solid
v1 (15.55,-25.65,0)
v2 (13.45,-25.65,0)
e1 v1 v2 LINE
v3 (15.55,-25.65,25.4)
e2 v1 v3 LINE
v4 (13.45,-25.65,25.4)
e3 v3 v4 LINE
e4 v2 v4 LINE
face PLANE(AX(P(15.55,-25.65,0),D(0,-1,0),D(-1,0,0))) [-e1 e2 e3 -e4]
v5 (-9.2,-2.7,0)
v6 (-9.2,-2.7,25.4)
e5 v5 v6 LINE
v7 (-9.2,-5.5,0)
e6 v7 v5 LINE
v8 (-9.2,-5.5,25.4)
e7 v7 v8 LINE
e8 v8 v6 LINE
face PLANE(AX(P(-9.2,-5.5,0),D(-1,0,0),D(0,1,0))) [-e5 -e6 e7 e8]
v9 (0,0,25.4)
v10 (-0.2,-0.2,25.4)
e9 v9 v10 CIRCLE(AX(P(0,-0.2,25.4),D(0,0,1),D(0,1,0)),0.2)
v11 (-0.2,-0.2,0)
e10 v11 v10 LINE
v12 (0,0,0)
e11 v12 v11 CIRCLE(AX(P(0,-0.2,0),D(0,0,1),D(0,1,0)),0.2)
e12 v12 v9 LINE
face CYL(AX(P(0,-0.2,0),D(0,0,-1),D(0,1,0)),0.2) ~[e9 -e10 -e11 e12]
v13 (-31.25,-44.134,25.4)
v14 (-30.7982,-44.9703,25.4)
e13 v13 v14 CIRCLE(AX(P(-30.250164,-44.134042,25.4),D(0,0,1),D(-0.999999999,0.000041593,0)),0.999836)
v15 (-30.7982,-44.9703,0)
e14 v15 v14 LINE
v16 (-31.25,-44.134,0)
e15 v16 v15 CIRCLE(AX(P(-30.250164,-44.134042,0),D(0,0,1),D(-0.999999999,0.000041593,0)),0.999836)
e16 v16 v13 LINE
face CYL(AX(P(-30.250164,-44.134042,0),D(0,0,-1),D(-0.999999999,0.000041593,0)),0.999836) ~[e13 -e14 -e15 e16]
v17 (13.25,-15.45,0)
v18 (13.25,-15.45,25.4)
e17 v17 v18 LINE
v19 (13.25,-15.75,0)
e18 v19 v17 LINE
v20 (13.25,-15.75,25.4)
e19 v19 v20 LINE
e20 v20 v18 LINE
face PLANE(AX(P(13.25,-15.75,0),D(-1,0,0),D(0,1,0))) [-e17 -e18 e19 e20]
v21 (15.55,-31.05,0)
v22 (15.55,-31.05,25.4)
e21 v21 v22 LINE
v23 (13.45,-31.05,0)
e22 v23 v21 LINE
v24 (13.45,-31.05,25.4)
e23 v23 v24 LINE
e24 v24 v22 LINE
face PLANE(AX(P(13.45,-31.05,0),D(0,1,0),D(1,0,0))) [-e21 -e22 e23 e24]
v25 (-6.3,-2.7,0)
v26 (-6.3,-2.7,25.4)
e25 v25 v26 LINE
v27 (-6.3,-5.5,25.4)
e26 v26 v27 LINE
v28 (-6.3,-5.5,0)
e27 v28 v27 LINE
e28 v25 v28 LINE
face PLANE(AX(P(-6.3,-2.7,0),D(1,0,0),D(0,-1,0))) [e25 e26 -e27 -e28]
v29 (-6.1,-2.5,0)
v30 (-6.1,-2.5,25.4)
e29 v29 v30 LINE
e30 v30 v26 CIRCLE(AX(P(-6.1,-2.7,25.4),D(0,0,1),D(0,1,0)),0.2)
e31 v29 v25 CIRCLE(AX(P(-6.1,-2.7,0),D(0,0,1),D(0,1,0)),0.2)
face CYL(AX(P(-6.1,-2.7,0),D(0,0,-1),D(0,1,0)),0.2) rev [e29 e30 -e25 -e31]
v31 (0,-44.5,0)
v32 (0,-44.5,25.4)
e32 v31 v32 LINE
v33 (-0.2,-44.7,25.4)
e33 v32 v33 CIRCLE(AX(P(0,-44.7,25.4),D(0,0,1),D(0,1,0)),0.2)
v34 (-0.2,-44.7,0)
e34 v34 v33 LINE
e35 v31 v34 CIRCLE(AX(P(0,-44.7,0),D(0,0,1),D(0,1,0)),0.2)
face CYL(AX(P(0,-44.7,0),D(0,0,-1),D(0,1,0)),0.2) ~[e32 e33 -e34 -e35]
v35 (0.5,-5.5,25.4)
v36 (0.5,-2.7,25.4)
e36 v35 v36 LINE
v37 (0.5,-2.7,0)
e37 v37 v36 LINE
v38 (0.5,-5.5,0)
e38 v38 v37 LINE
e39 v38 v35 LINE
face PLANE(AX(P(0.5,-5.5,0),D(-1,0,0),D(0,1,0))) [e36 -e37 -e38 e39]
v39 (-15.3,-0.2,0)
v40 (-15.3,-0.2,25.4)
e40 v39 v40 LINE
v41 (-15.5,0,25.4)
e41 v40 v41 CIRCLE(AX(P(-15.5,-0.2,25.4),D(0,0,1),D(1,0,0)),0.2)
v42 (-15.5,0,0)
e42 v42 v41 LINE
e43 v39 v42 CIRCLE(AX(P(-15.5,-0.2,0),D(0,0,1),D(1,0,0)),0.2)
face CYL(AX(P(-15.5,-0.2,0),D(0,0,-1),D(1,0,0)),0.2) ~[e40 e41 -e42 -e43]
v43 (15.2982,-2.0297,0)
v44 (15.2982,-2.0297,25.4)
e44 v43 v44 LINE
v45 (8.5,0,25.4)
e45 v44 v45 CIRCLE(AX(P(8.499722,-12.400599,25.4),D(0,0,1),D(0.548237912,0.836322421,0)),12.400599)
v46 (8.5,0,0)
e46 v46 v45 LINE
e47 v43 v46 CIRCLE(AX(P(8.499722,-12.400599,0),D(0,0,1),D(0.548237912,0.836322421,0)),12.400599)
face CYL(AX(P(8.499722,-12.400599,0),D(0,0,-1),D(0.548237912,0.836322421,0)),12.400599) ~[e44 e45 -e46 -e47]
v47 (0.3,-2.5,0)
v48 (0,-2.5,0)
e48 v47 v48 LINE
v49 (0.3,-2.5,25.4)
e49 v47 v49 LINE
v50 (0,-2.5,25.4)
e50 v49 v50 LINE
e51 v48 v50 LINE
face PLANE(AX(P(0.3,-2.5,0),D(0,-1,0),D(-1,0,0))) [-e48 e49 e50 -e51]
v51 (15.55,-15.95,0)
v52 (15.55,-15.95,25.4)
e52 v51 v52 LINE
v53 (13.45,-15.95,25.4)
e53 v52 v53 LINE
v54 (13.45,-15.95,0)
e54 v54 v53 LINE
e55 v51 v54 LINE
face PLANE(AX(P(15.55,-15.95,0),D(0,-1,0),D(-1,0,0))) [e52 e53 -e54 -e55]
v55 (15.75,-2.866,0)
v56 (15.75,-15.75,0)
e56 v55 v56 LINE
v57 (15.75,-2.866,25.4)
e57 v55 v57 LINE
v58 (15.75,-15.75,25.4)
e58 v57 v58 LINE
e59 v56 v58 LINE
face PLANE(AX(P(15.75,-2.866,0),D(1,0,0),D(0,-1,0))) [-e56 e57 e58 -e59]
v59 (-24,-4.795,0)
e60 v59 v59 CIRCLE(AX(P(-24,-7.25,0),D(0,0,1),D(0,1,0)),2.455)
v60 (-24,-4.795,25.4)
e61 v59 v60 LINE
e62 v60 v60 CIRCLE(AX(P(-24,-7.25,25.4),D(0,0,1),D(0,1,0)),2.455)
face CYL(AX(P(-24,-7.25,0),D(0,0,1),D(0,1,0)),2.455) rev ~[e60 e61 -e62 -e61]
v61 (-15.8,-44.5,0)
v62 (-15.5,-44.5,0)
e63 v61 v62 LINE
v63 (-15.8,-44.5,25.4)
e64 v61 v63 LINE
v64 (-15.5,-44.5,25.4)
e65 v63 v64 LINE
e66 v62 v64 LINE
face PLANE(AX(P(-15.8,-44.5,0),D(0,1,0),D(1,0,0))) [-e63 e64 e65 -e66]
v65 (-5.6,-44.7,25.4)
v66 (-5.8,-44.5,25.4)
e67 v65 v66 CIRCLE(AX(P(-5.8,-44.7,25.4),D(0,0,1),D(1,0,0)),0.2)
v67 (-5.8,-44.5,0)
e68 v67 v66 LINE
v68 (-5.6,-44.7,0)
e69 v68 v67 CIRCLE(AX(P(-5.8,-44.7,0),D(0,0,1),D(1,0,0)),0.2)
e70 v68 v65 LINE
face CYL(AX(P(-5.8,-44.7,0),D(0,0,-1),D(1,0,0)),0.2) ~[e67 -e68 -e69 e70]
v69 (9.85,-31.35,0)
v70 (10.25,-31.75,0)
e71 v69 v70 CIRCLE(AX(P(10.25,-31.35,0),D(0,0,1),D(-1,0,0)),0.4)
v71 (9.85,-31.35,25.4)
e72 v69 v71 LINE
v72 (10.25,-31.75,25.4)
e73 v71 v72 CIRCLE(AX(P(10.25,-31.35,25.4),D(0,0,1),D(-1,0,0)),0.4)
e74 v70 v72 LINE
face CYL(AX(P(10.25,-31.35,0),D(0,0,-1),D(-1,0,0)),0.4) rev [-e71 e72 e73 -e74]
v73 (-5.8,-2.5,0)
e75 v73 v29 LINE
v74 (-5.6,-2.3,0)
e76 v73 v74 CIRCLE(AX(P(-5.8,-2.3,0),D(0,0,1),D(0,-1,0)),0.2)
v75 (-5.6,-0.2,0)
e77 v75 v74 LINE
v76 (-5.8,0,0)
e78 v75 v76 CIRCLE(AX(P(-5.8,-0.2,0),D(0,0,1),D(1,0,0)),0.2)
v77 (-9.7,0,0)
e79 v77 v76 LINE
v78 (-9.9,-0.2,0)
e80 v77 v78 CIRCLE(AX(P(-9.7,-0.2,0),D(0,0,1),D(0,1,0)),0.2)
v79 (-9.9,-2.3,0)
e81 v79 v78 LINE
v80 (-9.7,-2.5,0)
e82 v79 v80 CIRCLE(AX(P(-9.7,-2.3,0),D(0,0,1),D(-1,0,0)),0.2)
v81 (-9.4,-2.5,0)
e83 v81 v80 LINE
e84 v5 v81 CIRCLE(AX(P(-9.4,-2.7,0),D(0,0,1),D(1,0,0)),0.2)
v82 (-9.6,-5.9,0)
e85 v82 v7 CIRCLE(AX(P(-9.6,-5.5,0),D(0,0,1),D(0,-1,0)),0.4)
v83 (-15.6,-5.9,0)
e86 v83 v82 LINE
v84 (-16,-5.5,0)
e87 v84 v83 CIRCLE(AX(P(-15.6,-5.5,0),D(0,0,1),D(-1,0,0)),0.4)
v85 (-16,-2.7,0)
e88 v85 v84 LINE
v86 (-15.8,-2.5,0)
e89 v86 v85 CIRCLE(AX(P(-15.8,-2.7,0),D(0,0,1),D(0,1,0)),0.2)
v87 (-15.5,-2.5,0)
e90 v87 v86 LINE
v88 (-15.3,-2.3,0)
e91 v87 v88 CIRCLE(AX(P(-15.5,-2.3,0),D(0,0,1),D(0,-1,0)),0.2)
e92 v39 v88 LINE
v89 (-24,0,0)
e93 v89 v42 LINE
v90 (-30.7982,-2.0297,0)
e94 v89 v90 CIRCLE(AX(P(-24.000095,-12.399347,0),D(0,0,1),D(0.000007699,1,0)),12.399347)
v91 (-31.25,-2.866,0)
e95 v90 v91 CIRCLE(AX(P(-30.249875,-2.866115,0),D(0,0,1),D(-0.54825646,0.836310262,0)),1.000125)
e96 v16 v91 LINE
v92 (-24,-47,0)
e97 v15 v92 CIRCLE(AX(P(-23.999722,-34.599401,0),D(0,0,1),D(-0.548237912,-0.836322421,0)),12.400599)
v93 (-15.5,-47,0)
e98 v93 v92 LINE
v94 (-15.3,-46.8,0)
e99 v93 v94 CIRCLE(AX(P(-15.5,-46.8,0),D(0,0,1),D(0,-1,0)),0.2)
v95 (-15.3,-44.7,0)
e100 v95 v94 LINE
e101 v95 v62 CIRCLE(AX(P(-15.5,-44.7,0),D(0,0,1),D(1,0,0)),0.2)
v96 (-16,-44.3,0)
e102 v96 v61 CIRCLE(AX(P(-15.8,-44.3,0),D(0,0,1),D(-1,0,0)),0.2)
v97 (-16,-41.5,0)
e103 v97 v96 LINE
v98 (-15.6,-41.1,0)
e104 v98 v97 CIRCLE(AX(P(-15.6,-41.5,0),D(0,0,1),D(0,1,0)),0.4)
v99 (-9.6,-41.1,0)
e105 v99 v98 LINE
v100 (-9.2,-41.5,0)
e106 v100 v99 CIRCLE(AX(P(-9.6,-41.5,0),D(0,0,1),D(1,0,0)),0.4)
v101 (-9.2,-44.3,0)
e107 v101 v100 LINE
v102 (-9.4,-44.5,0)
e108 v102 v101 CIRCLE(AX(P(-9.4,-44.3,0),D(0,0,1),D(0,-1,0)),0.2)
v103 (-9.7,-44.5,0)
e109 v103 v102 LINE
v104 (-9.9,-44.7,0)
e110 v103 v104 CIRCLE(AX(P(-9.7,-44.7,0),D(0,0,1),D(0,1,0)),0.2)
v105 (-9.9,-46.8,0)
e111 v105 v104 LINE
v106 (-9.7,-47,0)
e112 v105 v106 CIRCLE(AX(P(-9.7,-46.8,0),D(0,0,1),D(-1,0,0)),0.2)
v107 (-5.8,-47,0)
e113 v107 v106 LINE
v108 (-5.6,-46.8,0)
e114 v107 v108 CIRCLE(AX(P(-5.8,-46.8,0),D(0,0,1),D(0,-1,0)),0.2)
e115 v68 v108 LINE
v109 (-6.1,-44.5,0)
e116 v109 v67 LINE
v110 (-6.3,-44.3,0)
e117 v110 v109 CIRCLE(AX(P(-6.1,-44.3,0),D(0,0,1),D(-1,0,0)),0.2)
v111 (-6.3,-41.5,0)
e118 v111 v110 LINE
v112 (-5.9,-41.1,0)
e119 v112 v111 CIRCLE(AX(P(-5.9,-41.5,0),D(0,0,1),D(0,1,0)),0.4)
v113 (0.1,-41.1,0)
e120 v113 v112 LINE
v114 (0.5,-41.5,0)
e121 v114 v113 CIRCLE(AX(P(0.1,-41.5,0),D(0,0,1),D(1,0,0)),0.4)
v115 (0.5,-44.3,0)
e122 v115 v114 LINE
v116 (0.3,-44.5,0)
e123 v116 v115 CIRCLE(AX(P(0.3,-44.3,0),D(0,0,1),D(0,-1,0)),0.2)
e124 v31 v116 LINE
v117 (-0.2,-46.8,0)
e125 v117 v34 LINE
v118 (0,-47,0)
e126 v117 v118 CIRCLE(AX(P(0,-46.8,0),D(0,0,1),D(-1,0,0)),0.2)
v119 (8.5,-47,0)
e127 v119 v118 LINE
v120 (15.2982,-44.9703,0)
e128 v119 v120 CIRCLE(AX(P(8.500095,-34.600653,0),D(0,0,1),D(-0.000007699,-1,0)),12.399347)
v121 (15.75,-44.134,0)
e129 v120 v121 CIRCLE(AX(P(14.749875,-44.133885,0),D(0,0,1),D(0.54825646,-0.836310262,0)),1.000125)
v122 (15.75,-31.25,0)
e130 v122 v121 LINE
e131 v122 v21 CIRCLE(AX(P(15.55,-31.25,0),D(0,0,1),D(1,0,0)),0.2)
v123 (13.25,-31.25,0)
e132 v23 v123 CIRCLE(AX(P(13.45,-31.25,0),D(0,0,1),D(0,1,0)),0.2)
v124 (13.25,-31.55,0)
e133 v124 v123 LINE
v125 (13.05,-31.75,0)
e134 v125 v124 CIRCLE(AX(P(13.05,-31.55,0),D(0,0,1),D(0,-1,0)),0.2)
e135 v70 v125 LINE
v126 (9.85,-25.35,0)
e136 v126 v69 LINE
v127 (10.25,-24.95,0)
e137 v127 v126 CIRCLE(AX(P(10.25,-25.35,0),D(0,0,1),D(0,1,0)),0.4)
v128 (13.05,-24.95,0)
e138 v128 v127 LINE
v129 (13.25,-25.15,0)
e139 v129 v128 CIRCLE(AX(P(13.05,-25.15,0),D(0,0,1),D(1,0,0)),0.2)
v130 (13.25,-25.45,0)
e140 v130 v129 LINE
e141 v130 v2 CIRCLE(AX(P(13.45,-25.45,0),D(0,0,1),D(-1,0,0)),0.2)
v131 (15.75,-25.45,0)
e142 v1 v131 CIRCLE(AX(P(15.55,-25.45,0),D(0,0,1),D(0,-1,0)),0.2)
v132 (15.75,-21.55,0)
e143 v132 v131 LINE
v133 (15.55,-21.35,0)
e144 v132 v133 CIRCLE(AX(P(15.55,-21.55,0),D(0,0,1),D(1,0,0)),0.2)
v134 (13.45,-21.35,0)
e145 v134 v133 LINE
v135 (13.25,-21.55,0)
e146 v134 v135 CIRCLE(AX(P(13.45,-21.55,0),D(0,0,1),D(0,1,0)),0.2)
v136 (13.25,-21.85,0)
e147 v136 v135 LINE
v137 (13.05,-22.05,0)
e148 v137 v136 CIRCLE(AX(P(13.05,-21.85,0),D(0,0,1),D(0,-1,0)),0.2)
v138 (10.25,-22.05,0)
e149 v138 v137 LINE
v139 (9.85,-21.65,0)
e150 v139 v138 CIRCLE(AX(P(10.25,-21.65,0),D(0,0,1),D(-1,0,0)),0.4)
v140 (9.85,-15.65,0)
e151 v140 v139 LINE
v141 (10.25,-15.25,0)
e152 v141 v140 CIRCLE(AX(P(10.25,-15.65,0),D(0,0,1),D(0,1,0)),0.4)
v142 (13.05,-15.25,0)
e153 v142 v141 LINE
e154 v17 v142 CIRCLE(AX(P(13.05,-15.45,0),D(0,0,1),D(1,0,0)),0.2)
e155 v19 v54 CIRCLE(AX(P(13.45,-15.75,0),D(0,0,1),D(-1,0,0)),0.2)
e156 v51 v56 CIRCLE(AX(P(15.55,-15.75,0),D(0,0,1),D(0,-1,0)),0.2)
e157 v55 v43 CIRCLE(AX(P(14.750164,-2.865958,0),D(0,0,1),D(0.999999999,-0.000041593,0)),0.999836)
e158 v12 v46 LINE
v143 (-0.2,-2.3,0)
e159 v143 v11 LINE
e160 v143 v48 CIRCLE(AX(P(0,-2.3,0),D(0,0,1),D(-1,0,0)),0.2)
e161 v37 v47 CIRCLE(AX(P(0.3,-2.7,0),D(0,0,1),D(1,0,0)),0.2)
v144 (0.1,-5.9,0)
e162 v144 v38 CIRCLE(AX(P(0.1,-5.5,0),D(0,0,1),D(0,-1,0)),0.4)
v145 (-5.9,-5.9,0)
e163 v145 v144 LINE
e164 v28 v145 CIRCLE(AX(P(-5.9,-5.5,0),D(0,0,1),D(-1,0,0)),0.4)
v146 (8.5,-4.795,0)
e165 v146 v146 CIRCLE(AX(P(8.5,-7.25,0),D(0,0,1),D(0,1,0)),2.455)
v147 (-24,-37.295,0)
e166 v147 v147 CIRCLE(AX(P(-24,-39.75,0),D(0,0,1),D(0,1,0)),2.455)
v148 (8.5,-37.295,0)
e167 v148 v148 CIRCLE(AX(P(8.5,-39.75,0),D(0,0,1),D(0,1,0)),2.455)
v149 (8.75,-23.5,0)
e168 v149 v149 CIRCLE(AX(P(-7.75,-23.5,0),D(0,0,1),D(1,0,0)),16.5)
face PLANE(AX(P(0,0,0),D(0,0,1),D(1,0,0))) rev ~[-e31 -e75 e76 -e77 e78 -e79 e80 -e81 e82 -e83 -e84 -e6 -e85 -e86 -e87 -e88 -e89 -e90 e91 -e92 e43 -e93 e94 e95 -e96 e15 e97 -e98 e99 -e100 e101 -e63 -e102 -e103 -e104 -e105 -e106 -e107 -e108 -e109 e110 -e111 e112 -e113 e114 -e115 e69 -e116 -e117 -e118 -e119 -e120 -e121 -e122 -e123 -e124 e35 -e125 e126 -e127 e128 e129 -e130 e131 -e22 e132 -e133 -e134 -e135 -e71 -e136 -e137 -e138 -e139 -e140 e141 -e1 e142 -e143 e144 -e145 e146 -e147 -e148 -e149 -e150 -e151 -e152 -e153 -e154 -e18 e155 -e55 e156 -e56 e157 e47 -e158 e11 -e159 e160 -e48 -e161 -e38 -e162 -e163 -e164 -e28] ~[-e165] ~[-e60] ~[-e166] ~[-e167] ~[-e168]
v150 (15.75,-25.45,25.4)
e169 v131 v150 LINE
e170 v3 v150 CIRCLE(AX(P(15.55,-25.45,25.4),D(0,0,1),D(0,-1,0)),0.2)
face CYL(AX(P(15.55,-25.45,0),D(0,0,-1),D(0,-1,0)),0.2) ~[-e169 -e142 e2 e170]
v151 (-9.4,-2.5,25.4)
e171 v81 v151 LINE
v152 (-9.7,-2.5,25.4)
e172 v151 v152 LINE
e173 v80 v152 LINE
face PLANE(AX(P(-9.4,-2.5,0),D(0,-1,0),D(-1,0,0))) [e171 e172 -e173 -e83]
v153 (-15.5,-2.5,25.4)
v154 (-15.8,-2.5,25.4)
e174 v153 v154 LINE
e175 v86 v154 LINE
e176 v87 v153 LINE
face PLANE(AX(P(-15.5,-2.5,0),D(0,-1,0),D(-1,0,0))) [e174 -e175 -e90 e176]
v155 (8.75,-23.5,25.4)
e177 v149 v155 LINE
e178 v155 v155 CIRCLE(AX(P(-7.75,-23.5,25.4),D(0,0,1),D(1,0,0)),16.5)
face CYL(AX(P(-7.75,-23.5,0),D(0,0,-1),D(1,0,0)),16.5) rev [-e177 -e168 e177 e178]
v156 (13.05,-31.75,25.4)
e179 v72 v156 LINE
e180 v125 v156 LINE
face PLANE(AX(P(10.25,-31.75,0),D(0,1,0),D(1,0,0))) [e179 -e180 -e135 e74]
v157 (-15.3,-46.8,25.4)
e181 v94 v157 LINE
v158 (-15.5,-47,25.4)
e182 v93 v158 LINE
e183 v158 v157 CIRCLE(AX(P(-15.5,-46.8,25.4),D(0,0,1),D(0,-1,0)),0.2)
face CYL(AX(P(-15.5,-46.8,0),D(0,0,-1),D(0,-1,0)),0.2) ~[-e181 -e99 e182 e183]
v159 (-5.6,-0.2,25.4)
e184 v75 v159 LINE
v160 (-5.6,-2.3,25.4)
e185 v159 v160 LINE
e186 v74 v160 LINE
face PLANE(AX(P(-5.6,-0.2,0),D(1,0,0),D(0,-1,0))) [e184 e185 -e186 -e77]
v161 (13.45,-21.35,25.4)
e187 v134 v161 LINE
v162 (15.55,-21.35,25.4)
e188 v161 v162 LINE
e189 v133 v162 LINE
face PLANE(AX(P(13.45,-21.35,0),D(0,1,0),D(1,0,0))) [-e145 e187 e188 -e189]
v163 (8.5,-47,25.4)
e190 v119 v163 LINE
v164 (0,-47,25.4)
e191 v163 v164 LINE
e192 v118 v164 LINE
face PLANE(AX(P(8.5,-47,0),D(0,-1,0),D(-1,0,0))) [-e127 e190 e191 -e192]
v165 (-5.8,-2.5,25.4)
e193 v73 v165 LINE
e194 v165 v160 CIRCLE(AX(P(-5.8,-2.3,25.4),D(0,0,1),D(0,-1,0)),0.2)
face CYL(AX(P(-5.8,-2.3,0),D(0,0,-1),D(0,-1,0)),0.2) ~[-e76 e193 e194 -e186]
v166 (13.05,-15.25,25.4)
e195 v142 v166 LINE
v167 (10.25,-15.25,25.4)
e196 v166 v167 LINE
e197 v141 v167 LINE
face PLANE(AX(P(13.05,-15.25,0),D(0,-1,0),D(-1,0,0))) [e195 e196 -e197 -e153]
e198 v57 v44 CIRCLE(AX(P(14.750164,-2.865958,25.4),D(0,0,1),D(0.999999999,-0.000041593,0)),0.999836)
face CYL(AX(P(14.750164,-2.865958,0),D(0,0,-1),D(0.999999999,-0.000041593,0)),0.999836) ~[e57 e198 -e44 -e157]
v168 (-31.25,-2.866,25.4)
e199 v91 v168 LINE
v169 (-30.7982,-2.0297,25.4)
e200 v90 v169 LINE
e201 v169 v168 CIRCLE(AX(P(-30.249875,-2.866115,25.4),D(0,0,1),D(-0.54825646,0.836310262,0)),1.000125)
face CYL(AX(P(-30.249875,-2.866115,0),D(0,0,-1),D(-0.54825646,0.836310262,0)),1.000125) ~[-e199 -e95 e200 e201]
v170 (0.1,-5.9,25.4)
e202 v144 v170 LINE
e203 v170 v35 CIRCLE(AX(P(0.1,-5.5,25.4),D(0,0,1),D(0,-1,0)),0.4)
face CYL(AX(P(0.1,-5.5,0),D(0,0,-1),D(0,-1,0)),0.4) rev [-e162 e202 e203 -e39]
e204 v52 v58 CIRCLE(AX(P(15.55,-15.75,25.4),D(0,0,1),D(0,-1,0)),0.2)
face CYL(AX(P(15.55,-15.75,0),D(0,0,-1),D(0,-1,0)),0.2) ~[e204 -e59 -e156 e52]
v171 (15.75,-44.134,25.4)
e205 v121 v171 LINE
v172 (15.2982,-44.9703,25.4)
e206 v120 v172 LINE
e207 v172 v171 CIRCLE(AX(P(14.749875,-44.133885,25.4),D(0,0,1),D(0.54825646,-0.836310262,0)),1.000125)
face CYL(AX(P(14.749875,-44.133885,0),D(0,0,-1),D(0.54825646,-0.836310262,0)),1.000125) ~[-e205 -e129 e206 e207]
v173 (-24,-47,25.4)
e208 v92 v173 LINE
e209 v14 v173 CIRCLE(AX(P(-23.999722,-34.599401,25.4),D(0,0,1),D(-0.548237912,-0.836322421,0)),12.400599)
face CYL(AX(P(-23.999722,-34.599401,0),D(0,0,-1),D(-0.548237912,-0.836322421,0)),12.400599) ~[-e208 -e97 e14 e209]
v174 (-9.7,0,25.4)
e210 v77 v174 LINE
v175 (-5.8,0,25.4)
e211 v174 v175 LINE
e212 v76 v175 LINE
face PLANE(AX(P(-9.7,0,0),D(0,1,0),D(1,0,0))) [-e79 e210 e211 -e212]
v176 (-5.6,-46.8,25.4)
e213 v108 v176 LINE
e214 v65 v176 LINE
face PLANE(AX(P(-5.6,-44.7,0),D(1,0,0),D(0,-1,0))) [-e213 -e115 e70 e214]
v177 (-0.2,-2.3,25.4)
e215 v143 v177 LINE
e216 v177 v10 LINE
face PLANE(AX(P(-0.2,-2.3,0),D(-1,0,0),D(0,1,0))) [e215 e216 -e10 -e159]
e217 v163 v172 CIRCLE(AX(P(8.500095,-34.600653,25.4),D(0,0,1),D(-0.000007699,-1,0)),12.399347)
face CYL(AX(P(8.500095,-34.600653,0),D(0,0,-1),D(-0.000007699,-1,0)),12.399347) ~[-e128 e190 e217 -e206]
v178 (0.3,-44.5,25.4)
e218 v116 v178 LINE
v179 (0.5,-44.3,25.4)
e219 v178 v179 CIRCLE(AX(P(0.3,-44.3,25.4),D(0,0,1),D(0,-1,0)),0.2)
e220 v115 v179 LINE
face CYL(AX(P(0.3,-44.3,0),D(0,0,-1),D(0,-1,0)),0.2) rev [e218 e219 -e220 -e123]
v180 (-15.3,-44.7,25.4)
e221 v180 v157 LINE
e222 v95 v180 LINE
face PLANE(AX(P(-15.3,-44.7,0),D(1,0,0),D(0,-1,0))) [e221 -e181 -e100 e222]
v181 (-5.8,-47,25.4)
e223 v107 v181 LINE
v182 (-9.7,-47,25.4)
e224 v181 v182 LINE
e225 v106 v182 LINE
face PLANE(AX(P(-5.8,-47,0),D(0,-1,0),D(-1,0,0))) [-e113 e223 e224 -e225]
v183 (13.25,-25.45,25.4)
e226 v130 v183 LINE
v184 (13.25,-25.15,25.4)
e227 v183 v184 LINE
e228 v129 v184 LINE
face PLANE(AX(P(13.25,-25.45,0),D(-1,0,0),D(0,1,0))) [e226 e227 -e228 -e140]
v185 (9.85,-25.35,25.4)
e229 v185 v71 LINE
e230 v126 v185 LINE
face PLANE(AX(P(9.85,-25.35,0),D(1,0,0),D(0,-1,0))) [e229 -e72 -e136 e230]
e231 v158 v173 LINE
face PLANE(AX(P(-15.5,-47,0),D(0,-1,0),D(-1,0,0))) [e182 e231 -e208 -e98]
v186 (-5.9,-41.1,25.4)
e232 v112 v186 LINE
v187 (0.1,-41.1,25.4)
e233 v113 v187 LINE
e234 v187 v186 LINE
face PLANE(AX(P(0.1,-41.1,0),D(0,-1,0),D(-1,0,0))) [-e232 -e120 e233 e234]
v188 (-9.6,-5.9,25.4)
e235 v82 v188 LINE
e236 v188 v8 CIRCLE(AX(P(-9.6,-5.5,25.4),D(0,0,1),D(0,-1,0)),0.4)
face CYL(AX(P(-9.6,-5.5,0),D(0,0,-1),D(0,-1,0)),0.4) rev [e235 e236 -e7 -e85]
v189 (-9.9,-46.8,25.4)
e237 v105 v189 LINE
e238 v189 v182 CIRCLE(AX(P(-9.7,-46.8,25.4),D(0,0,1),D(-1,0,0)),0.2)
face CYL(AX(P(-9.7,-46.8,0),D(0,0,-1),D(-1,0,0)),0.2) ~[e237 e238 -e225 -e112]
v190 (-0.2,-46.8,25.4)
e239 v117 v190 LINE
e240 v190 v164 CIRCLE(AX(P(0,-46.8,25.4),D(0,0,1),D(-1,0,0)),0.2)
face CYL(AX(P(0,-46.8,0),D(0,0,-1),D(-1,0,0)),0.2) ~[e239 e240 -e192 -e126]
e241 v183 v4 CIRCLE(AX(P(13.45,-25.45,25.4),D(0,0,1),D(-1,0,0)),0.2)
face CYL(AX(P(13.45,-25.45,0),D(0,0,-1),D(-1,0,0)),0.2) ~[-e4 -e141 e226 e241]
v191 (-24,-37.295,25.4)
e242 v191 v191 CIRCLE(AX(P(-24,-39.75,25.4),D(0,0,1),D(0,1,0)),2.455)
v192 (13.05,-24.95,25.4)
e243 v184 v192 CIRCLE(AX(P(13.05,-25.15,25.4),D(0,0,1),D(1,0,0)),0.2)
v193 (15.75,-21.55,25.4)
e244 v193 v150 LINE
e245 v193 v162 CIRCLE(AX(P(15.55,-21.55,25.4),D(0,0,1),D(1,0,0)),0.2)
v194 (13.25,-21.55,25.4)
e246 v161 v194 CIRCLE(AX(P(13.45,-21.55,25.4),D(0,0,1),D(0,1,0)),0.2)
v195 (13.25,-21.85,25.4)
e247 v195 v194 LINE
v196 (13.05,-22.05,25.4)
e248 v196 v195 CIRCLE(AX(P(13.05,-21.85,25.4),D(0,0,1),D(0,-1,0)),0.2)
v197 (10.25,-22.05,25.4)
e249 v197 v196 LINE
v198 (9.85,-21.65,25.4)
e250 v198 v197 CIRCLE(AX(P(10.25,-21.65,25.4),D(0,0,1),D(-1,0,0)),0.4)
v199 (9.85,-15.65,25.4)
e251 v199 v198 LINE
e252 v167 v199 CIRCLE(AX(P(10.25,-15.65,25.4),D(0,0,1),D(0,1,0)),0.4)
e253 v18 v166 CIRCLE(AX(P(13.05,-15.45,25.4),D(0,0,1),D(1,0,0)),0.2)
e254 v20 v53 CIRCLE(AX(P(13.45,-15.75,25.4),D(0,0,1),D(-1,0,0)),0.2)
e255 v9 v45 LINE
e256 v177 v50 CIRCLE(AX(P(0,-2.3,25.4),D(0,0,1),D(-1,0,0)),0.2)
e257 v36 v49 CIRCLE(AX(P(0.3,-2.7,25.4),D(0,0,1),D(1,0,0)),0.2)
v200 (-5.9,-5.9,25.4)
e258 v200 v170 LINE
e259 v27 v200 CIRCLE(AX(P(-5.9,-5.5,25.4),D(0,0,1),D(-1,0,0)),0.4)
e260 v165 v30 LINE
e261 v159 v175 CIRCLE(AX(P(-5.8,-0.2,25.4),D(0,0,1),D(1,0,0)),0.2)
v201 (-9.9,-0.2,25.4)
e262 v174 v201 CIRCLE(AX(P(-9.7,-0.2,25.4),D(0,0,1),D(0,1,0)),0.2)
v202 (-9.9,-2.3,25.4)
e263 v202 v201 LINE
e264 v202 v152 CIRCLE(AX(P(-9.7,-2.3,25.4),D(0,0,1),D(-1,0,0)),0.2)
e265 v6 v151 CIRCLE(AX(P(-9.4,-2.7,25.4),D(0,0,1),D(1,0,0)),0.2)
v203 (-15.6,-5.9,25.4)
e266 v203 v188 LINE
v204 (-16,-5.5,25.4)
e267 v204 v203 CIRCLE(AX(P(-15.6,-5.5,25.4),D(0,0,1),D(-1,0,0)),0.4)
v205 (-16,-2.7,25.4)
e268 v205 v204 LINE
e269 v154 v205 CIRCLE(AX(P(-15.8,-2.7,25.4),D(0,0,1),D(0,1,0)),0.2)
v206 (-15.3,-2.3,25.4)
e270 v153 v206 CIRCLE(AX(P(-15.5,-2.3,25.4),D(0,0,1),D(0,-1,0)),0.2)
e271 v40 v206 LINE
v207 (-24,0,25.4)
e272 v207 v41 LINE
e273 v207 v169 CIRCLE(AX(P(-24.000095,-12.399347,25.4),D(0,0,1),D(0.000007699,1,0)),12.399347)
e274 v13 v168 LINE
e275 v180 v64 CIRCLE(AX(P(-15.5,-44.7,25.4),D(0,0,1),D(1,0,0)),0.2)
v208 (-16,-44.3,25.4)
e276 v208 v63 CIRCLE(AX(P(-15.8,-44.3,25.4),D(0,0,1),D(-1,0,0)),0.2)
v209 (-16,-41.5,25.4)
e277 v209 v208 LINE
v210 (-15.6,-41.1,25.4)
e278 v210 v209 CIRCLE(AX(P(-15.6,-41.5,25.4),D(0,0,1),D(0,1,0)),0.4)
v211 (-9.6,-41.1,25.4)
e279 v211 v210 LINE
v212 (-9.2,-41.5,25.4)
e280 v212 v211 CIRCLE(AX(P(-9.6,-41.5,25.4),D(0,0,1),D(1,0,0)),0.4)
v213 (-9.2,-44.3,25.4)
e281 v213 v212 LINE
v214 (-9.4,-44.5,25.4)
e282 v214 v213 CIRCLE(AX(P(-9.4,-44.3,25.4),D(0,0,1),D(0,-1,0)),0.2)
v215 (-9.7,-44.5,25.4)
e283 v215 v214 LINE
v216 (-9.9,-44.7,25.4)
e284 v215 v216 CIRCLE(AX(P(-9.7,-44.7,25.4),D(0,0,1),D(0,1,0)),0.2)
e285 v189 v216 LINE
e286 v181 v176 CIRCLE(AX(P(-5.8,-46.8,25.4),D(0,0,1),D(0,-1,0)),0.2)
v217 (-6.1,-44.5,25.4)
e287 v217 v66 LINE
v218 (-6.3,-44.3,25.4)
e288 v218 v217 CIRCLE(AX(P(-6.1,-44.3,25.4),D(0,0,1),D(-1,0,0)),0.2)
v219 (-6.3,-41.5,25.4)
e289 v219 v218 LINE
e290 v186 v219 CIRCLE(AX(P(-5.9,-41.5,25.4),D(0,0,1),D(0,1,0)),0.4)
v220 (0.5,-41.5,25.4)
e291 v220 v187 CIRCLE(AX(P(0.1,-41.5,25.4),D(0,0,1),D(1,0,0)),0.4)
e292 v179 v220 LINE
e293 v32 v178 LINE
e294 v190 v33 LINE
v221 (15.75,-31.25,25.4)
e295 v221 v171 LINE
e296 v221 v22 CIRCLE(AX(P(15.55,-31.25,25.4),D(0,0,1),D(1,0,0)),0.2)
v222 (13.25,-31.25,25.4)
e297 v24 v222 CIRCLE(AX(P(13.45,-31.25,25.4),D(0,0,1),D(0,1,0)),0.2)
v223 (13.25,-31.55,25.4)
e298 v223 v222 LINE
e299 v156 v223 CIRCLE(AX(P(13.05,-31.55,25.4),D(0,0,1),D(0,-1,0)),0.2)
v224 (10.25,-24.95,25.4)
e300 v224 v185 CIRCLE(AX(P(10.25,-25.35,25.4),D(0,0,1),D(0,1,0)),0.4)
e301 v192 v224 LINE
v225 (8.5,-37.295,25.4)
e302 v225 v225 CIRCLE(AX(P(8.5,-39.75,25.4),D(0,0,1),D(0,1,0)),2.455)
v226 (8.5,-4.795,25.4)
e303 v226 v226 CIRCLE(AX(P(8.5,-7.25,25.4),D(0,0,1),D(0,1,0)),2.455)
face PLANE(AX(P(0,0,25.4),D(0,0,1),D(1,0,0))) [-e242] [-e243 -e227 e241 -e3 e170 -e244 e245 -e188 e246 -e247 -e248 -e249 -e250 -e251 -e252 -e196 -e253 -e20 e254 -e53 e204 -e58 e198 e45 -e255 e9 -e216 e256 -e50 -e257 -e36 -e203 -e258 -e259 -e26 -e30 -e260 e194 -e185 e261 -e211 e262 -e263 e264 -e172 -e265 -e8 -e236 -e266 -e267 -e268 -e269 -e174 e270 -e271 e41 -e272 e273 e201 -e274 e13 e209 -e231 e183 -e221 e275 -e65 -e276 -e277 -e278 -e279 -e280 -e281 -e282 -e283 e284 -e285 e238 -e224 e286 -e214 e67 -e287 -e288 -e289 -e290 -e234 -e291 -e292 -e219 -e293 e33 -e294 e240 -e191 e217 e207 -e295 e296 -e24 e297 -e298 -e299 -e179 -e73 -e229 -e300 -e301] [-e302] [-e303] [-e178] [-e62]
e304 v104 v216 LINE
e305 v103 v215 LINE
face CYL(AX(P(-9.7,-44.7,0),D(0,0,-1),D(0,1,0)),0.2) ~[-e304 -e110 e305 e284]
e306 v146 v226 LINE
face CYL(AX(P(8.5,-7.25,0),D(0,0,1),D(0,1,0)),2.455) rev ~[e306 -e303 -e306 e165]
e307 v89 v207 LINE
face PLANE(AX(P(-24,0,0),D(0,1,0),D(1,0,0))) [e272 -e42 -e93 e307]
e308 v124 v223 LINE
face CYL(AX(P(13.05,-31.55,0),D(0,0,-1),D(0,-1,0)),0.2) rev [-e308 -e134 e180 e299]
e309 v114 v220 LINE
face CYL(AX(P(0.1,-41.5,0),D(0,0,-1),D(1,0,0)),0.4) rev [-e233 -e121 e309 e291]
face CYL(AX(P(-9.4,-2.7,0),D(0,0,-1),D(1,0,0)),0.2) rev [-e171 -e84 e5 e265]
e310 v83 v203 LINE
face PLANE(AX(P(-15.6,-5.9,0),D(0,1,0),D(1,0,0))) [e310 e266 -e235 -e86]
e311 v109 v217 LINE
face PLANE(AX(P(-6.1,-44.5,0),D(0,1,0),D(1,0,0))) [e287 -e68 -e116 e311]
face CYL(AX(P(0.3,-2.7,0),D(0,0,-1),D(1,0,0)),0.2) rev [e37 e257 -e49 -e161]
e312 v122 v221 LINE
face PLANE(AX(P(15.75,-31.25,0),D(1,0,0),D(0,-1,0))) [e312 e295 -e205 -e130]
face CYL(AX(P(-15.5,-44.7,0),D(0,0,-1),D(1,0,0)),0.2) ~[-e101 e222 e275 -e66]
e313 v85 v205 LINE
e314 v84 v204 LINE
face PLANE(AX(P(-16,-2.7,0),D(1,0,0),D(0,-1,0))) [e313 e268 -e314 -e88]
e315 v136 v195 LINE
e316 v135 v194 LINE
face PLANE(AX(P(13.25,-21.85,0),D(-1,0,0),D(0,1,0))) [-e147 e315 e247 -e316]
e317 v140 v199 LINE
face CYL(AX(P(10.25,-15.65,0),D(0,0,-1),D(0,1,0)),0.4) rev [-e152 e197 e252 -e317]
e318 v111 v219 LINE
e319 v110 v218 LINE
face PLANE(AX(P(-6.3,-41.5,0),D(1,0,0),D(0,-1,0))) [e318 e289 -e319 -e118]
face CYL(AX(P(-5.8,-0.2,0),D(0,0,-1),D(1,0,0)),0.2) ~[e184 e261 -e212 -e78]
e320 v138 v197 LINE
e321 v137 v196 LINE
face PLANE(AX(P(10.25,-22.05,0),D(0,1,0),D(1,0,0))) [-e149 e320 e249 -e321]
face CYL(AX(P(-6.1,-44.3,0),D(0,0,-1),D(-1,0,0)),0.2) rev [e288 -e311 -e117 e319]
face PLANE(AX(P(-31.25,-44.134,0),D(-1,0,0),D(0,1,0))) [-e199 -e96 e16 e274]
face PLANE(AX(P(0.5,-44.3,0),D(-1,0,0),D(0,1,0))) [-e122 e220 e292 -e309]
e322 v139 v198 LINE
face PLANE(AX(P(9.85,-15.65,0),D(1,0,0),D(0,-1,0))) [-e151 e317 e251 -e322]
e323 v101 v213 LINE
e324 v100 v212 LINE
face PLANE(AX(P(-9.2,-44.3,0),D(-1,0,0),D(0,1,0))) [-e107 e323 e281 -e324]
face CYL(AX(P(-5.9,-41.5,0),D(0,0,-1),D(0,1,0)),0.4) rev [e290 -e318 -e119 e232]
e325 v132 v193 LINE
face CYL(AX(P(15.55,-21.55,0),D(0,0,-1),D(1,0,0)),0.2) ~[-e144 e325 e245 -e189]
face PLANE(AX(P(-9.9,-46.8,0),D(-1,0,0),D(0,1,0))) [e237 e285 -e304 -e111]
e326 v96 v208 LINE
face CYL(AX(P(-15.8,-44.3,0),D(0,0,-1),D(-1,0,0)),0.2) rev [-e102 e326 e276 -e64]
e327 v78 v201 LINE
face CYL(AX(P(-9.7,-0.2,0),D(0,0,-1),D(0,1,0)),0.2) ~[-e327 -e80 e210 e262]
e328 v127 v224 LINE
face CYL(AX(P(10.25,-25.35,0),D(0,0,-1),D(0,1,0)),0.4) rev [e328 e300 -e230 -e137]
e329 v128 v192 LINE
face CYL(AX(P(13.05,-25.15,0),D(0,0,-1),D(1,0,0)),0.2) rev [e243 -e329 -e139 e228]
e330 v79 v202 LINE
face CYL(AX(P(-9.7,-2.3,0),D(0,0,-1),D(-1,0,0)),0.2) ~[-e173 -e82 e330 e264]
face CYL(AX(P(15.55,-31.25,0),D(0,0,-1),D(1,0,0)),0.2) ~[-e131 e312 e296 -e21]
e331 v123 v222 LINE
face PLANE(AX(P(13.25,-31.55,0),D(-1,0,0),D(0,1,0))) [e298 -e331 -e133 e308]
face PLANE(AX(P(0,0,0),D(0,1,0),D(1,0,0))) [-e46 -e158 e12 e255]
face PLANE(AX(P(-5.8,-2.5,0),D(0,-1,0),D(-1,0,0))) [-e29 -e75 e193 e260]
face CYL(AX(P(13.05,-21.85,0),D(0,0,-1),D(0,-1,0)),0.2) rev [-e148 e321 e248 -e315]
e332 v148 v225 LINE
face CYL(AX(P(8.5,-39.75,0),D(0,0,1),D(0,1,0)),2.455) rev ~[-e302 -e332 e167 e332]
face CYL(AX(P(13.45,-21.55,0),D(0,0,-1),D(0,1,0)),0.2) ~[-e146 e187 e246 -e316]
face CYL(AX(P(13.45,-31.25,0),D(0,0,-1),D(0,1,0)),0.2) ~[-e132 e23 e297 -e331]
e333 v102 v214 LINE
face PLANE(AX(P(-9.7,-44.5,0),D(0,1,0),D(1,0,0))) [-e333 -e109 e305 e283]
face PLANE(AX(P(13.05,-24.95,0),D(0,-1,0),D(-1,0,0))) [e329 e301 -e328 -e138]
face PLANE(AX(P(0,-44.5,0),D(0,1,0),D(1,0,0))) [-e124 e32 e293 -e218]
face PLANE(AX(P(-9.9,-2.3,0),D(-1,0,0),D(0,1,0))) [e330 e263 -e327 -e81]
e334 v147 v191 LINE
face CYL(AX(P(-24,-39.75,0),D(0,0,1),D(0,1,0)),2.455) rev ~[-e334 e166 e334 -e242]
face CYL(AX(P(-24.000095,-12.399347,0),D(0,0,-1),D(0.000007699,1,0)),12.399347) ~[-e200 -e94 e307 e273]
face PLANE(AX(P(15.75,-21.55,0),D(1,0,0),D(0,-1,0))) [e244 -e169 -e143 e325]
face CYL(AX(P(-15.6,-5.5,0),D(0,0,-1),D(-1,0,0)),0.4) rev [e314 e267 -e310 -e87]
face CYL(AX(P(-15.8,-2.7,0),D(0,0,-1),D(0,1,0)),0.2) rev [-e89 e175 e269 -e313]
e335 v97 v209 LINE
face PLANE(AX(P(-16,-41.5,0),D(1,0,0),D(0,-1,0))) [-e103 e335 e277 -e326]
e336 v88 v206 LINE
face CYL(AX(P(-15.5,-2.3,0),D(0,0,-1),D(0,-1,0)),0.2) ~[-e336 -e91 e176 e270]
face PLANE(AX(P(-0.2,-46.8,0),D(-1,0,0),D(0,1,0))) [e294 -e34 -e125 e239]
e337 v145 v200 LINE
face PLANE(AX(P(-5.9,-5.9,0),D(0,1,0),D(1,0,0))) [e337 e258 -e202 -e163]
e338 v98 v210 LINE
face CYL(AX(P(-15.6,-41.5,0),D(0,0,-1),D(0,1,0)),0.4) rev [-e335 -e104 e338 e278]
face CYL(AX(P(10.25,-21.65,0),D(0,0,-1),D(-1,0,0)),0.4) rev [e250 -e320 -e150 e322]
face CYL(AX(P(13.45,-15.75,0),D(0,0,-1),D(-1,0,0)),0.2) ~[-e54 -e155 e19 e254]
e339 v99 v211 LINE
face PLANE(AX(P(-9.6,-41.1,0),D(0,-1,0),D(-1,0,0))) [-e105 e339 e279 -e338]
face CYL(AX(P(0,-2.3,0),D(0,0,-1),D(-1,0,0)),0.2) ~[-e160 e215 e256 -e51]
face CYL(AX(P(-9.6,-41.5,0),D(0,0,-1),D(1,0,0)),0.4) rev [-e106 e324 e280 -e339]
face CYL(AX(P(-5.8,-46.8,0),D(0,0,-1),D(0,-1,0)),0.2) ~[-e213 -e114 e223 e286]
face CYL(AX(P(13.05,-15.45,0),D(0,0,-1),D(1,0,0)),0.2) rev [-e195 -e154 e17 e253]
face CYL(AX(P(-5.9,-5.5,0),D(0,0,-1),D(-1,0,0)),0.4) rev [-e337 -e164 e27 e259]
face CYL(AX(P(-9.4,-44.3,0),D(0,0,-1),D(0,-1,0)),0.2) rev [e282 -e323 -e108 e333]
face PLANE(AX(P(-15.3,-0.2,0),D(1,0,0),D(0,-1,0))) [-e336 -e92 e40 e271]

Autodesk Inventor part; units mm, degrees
ref_plane "YZ Plane" through (0, 0, 0) normal (1, 0, 0) x (0, 1, 0)
ref_plane "XZ Plane" through (0, 0, 0) normal (0, 1, 0) x (-1, 0, 0)
ref_plane "XY Plane" through (0, 0, 0) normal (0, 0, 1) x (1, 0, 0)
sketch "Sketch1" plane through (0, 0, 0) normal (0, 0, 1) x (1, 0, 0)
  arc A0 (15.55, -15.95) -> (15.75, -15.75) centre (15.55, -15.75) ccw
  line L0 (15.75, -2.866) -> (15.75, -15.75)
  arc A1 (15.75, -2.866) -> (15.2982, -2.0297) centre (14.75, -2.866) ccw
  arc A2 (15.2982, -2.0297) -> (8.5, 0) centre (8.5, -12.4) ccw
  line L1 (0, 0) -> (8.5, 0)
  arc A3 (0, 0) -> (-0.2, -0.2) centre (0, -0.2) ccw
  line L2 (-0.2, -2.3) -> (-0.2, -0.2)
  arc A4 (-0.2, -2.3) -> (0, -2.5) centre (0, -2.3) ccw
  line L3 (0.3, -2.5) -> (0, -2.5)
  arc A5 (0.5, -2.7) -> (0.3, -2.5) centre (0.3, -2.7) ccw
  line L4 (0.5, -5.5) -> (0.5, -2.7)
  arc A6 (0.1, -5.9) -> (0.5, -5.5) centre (0.1, -5.5) ccw
  line L5 (-5.9, -5.9) -> (0.1, -5.9)
  arc A7 (-6.3, -5.5) -> (-5.9, -5.9) centre (-5.9, -5.5) ccw
  line L6 (-6.3, -2.7) -> (-6.3, -5.5)
  arc A8 (-6.1, -2.5) -> (-6.3, -2.7) centre (-6.1, -2.7) ccw
  line L7 (-5.8, -2.5) -> (-6.1, -2.5)
  arc A9 (-5.8, -2.5) -> (-5.6, -2.3) centre (-5.8, -2.3) ccw
  line L8 (-5.6, -0.2) -> (-5.6, -2.3)
  arc A10 (-5.6, -0.2) -> (-5.8, 0) centre (-5.8, -0.2) ccw
  line L9 (-9.7, 0) -> (-5.8, 0)
  arc A11 (-9.7, 0) -> (-9.9, -0.2) centre (-9.7, -0.2) ccw
  line L10 (-9.9, -2.3) -> (-9.9, -0.2)
  arc A12 (-9.9, -2.3) -> (-9.7, -2.5) centre (-9.7, -2.3) ccw
  line L11 (-9.4, -2.5) -> (-9.7, -2.5)
  arc A13 (-9.2, -2.7) -> (-9.4, -2.5) centre (-9.4, -2.7) ccw
  line L12 (-9.2, -5.5) -> (-9.2, -2.7)
  arc A14 (-9.6, -5.9) -> (-9.2, -5.5) centre (-9.6, -5.5) ccw
  line L13 (-15.6, -5.9) -> (-9.6, -5.9)
  arc A15 (-16, -5.5) -> (-15.6, -5.9) centre (-15.6, -5.5) ccw
  line L14 (-16, -2.7) -> (-16, -5.5)
  arc A16 (-15.8, -2.5) -> (-16, -2.7) centre (-15.8, -2.7) ccw
  line L15 (-15.5, -2.5) -> (-15.8, -2.5)
  arc A17 (-15.5, -2.5) -> (-15.3, -2.3) centre (-15.5, -2.3) ccw
  line L16 (-15.3, -0.2) -> (-15.3, -2.3)
  arc A18 (-15.3, -0.2) -> (-15.5, 0) centre (-15.5, -0.2) ccw
  line L17 (-24, 0) -> (-15.5, 0)
  arc A19 (-24, 0) -> (-30.7982, -2.0297) centre (-24, -12.4) ccw
  arc A20 (-30.7982, -2.0297) -> (-31.25, -2.866) centre (-30.25, -2.866) ccw
  line L18 (-31.25, -44.134) -> (-31.25, -2.866)
  arc A21 (-31.25, -44.134) -> (-30.7982, -44.9703) centre (-30.25, -44.134) ccw
  arc A22 (-30.7982, -44.9703) -> (-24, -47) centre (-24, -34.6) ccw
  line L19 (-15.5, -47) -> (-24, -47)
  arc A23 (-15.5, -47) -> (-15.3, -46.8) centre (-15.5, -46.8) ccw
  line L20 (-15.3, -44.7) -> (-15.3, -46.8)
  arc A24 (-15.3, -44.7) -> (-15.5, -44.5) centre (-15.5, -44.7) ccw
  line L21 (-15.8, -44.5) -> (-15.5, -44.5)
  arc A25 (-16, -44.3) -> (-15.8, -44.5) centre (-15.8, -44.3) ccw
  line L22 (-16, -41.5) -> (-16, -44.3)
  arc A26 (-15.6, -41.1) -> (-16, -41.5) centre (-15.6, -41.5) ccw
  line L23 (-9.6, -41.1) -> (-15.6, -41.1)
  arc A27 (-9.2, -41.5) -> (-9.6, -41.1) centre (-9.6, -41.5) ccw
  line L24 (-9.2, -44.3) -> (-9.2, -41.5)
  arc A28 (-9.4, -44.5) -> (-9.2, -44.3) centre (-9.4, -44.3) ccw
  line L25 (-9.7, -44.5) -> (-9.4, -44.5)
  arc A29 (-9.7, -44.5) -> (-9.9, -44.7) centre (-9.7, -44.7) ccw
  line L26 (-9.9, -46.8) -> (-9.9, -44.7)
  arc A30 (-9.9, -46.8) -> (-9.7, -47) centre (-9.7, -46.8) ccw
  line L27 (-5.8, -47) -> (-9.7, -47)
  arc A31 (-5.8, -47) -> (-5.6, -46.8) centre (-5.8, -46.8) ccw
  line L28 (-5.6, -44.7) -> (-5.6, -46.8)
  arc A32 (-5.6, -44.7) -> (-5.8, -44.5) centre (-5.8, -44.7) ccw
  line L29 (-6.1, -44.5) -> (-5.8, -44.5)
  arc A33 (-6.3, -44.3) -> (-6.1, -44.5) centre (-6.1, -44.3) ccw
  line L30 (-6.3, -41.5) -> (-6.3, -44.3)
  arc A34 (-5.9, -41.1) -> (-6.3, -41.5) centre (-5.9, -41.5) ccw
  line L31 (0.1, -41.1) -> (-5.9, -41.1)
  arc A35 (0.5, -41.5) -> (0.1, -41.1) centre (0.1, -41.5) ccw
  line L32 (0.5, -44.3) -> (0.5, -41.5)
  arc A36 (0.3, -44.5) -> (0.5, -44.3) centre (0.3, -44.3) ccw
  line L33 (0, -44.5) -> (0.3, -44.5)
  arc A37 (0, -44.5) -> (-0.2, -44.7) centre (0, -44.7) ccw
  line L34 (-0.2, -46.8) -> (-0.2, -44.7)
  arc A38 (-0.2, -46.8) -> (0, -47) centre (0, -46.8) ccw
  line L35 (8.5, -47) -> (0, -47)
  arc A39 (8.5, -47) -> (15.2982, -44.9703) centre (8.5, -34.6) ccw
  arc A40 (15.2982, -44.9703) -> (15.75, -44.134) centre (14.75, -44.134) ccw
  line L36 (15.75, -31.25) -> (15.75, -44.134)
  arc A41 (15.75, -31.25) -> (15.55, -31.05) centre (15.55, -31.25) ccw
  line L37 (13.45, -31.05) -> (15.55, -31.05)
  arc A42 (13.45, -31.05) -> (13.25, -31.25) centre (13.45, -31.25) ccw
  line L38 (13.25, -31.55) -> (13.25, -31.25)
  arc A43 (13.05, -31.75) -> (13.25, -31.55) centre (13.05, -31.55) ccw
  line L39 (10.25, -31.75) -> (13.05, -31.75)
  arc A44 (9.85, -31.35) -> (10.25, -31.75) centre (10.25, -31.35) ccw
  line L40 (9.85, -25.35) -> (9.85, -31.35)
  arc A45 (10.25, -24.95) -> (9.85, -25.35) centre (10.25, -25.35) ccw
  line L41 (13.05, -24.95) -> (10.25, -24.95)
  arc A46 (13.25, -25.15) -> (13.05, -24.95) centre (13.05, -25.15) ccw
  line L42 (13.25, -25.45) -> (13.25, -25.15)
  arc A47 (13.25, -25.45) -> (13.45, -25.65) centre (13.45, -25.45) ccw
  line L43 (15.55, -25.65) -> (13.45, -25.65)
  arc A48 (15.55, -25.65) -> (15.75, -25.45) centre (15.55, -25.45) ccw
  line L44 (15.75, -21.55) -> (15.75, -25.45)
  arc A49 (15.75, -21.55) -> (15.55, -21.35) centre (15.55, -21.55) ccw
  line L45 (13.45, -21.35) -> (15.55, -21.35)
  arc A50 (13.45, -21.35) -> (13.25, -21.55) centre (13.45, -21.55) ccw
  line L46 (13.25, -21.85) -> (13.25, -21.55)
  arc A51 (13.05, -22.05) -> (13.25, -21.85) centre (13.05, -21.85) ccw
  line L47 (10.25, -22.05) -> (13.05, -22.05)
  arc A52 (9.85, -21.65) -> (10.25, -22.05) centre (10.25, -21.65) ccw
  line L48 (9.85, -15.65) -> (9.85, -21.65)
  arc A53 (10.25, -15.25) -> (9.85, -15.65) centre (10.25, -15.65) ccw
  line L49 (13.05, -15.25) -> (10.25, -15.25)
  arc A54 (13.25, -15.45) -> (13.05, -15.25) centre (13.05, -15.45) ccw
  line L50 (13.25, -15.75) -> (13.25, -15.45)
  arc A55 (13.25, -15.75) -> (13.45, -15.95) centre (13.45, -15.75) ccw
  line L51 (15.55, -15.95) -> (13.45, -15.95)
  arc A56 (-7.75, -28) -> (-7.75, -19) centre (-7.75, -23.5) ccw
  arc A57 (-7.75, -19) -> (-7.75, -28) centre (-7.75, -23.5) ccw
  arc A58 (8.5, -11.75) -> (8.5, -2.75) centre (8.5, -7.25) ccw
  arc A59 (8.5, -2.75) -> (8.5, -11.75) centre (8.5, -7.25) ccw
  arc A60 (-24, -44.25) -> (-24, -35.25) centre (-24, -39.75) ccw
  arc A61 (-24, -35.25) -> (-24, -44.25) centre (-24, -39.75) ccw
  arc A62 (-28.4949, -7.0354) -> (-28.4949, -7.4646) centre (-24, -7.25) ccw
  line L52 (-28.4949, -7.0354) -> (-28, -6.1782)
  line L53 (-28, -6.1782) -> (-28, -5.1884)
  arc A63 (-27.7854, -4.8167) -> (-28, -5.1884) centre (-24, -7.25) ccw
  line L54 (-27.7854, -4.8167) -> (-26.9282, -4.3218)
  line L55 (-26.9282, -4.3218) -> (-26.4333, -3.4646)
  arc A64 (-26.0616, -3.25) -> (-26.4333, -3.4646) centre (-24, -7.25) ccw
  line L56 (-26.0616, -3.25) -> (-25.0718, -3.25)
  line L57 (-25.0718, -3.25) -> (-24.2146, -2.7551)
  arc A65 (-24, -2.75) -> (-24.2146, -2.7551) centre (-24, -7.25) ccw
  arc A66 (-23.7854, -2.7551) -> (-24, -2.75) centre (-24, -7.25) ccw
  line L58 (-23.7854, -2.7551) -> (-22.9282, -3.25)
  line L59 (-22.9282, -3.25) -> (-21.9384, -3.25)
  arc A67 (-21.5667, -3.4646) -> (-21.9384, -3.25) centre (-24, -7.25) ccw
  line L60 (-21.5667, -3.4646) -> (-21.0718, -4.3218)
  line L61 (-21.0718, -4.3218) -> (-20.2146, -4.8167)
  arc A68 (-20, -5.1884) -> (-20.2146, -4.8167) centre (-24, -7.25) ccw
  line L62 (-20, -5.1884) -> (-20, -6.1782)
  line L63 (-20, -6.1782) -> (-19.5051, -7.0354)
  arc A69 (-19.5051, -7.4646) -> (-19.5051, -7.0354) centre (-24, -7.25) ccw
  line L64 (-19.5051, -7.4646) -> (-20, -8.3218)
  line L65 (-20, -8.3218) -> (-20, -9.3116)
  arc A70 (-20.2146, -9.6833) -> (-20, -9.3116) centre (-24, -7.25) ccw
  line L66 (-20.2146, -9.6833) -> (-21.0718, -10.1782)
  line L67 (-21.0718, -10.1782) -> (-21.5667, -11.0354)
  arc A71 (-21.9384, -11.25) -> (-21.5667, -11.0354) centre (-24, -7.25) ccw
  line L68 (-21.9384, -11.25) -> (-22.9282, -11.25)
  line L69 (-22.9282, -11.25) -> (-23.7854, -11.7449)
  arc A72 (-24, -11.75) -> (-23.7854, -11.7449) centre (-24, -7.25) ccw
  arc A73 (-24.2146, -11.7449) -> (-24, -11.75) centre (-24, -7.25) ccw
  line L70 (-24.2146, -11.7449) -> (-25.0718, -11.25)
  line L71 (-25.0718, -11.25) -> (-26.0616, -11.25)
  arc A74 (-26.4333, -11.0354) -> (-26.0616, -11.25) centre (-24, -7.25) ccw
  line L72 (-26.4333, -11.0354) -> (-26.9282, -10.1782)
  line L73 (-26.9282, -10.1782) -> (-27.7854, -9.6833)
  arc A75 (-28, -9.3116) -> (-27.7854, -9.6833) centre (-24, -7.25) ccw
  line L74 (-28, -9.3116) -> (-28, -8.3218)
  line L75 (-28, -8.3218) -> (-28.4949, -7.4646)
  arc A76 (4.0051, -39.5354) -> (4.0051, -39.9646) centre (8.5, -39.75) ccw
  line L76 (4.0051, -39.5354) -> (4.5, -38.6782)
  line L77 (4.5, -38.6782) -> (4.5, -37.6884)
  arc A77 (4.7146, -37.3167) -> (4.5, -37.6884) centre (8.5, -39.75) ccw
  line L78 (4.7146, -37.3167) -> (5.5718, -36.8218)
  line L79 (5.5718, -36.8218) -> (6.0667, -35.9646)
  arc A78 (6.4384, -35.75) -> (6.0667, -35.9646) centre (8.5, -39.75) ccw
  line L80 (6.4384, -35.75) -> (7.4282, -35.75)
  line L81 (7.4282, -35.75) -> (8.2854, -35.2551)
  arc A79 (8.5, -35.25) -> (8.2854, -35.2551) centre (8.5, -39.75) ccw
  arc A80 (8.7146, -35.2551) -> (8.5, -35.25) centre (8.5, -39.75) ccw
  line L82 (8.7146, -35.2551) -> (9.5718, -35.75)
  line L83 (9.5718, -35.75) -> (10.5616, -35.75)
  arc A81 (10.9333, -35.9646) -> (10.5616, -35.75) centre (8.5, -39.75) ccw
  line L84 (10.9333, -35.9646) -> (11.4282, -36.8218)
  line L85 (11.4282, -36.8218) -> (12.2854, -37.3167)
  arc A82 (12.5, -37.6884) -> (12.2854, -37.3167) centre (8.5, -39.75) ccw
  line L86 (12.5, -37.6884) -> (12.5, -38.6782)
  line L87 (12.5, -38.6782) -> (12.9949, -39.5354)
  arc A83 (12.9949, -39.9646) -> (12.9949, -39.5354) centre (8.5, -39.75) ccw
  line L88 (12.9949, -39.9646) -> (12.5, -40.8218)
  line L89 (12.5, -40.8218) -> (12.5, -41.8116)
  arc A84 (12.2854, -42.1833) -> (12.5, -41.8116) centre (8.5, -39.75) ccw
  line L90 (12.2854, -42.1833) -> (11.4282, -42.6782)
  line L91 (11.4282, -42.6782) -> (10.9333, -43.5354)
  arc A85 (10.5616, -43.75) -> (10.9333, -43.5354) centre (8.5, -39.75) ccw
  line L92 (10.5616, -43.75) -> (9.5718, -43.75)
  line L93 (9.5718, -43.75) -> (8.7146, -44.2449)
  arc A86 (8.5, -44.25) -> (8.7146, -44.2449) centre (8.5, -39.75) ccw
  arc A87 (8.2854, -44.2449) -> (8.5, -44.25) centre (8.5, -39.75) ccw
  line L94 (8.2854, -44.2449) -> (7.4282, -43.75)
  line L95 (7.4282, -43.75) -> (6.4384, -43.75)
  arc A88 (6.0667, -43.5354) -> (6.4384, -43.75) centre (8.5, -39.75) ccw
  line L96 (6.0667, -43.5354) -> (5.5718, -42.6782)
  line L97 (5.5718, -42.6782) -> (4.7146, -42.1833)
  arc A89 (4.5, -41.8116) -> (4.7146, -42.1833) centre (8.5, -39.75) ccw
  line L98 (4.5, -41.8116) -> (4.5, -40.8218)
  line L99 (4.5, -40.8218) -> (4.0051, -39.9646)
  circle A90 centre (-7.75, -23.5) radius 16.5
  dimension "d2" = 33
extrude "FESTO, 32MM" add sketch "Sketch1" along normal blind 25.4 contours L51 A55 L50 A54 L49 A53 L48 A52 L47 A51 L46 A50 L45 A49 L44 A48 L43 A47 L42 A46 L41 A45 L40 A44 L39 A43 L38 A42 L37 A41 L36 A40 A39 L35 A38 L34 A37 L33 A36 L32 A35 L31 A34 L30 A33 L29 A32 L28 A31 L27 A30 L26 A29 L25 A28 L24 A27 L23 A26 L22 A25 L21 A24 L20 A23 L19 A22 A21 L18 A20 A19 L17 A18 L16 A17 L15 A16 L14 A15 L13 A14 L12 A13 L11 A12 L10 A11 L9 A10 L8 A9 L7 A8 L6 A7 L5 A6 L4 A5 L3 A4 L2 A3 L1 A2 A1 L0 A0 | A59 A58 | A61 A60 | L52 L53 A63 L54 L55 A64 L56 L57 A65 A66 L58 L59 A67 L60 L61 A68 L62 L63 A69 L64 L65 A70 L66 L67 A71 L68 L69 A72 A73 L70 L71 A74 L72 L73 A75 L74 L75 A62 | L76 L77 A77 L78 L79 A78 L80 L81 A79 A80 L82 L83 A81 L84 L85 A82 L86 L87 A83 L88 L89 A84 L90 L91 A85 L92 L93 A86 A87 L94 L95 A88 L96 L97 A89 L98 L99 A76
hole "Hole1" at (8.5, -7.25, 0) at (-24, -7.25, 0) at (-24, -39.75, 0) at (8.5, -39.75, 0) direction (0, 0, 1) diameter 4.91 end through all
properties part number "EXTRUSION,CYLINDER, ALUMINIUM, FESTO, 32MM" material "Aluminum, 6061-T6"
